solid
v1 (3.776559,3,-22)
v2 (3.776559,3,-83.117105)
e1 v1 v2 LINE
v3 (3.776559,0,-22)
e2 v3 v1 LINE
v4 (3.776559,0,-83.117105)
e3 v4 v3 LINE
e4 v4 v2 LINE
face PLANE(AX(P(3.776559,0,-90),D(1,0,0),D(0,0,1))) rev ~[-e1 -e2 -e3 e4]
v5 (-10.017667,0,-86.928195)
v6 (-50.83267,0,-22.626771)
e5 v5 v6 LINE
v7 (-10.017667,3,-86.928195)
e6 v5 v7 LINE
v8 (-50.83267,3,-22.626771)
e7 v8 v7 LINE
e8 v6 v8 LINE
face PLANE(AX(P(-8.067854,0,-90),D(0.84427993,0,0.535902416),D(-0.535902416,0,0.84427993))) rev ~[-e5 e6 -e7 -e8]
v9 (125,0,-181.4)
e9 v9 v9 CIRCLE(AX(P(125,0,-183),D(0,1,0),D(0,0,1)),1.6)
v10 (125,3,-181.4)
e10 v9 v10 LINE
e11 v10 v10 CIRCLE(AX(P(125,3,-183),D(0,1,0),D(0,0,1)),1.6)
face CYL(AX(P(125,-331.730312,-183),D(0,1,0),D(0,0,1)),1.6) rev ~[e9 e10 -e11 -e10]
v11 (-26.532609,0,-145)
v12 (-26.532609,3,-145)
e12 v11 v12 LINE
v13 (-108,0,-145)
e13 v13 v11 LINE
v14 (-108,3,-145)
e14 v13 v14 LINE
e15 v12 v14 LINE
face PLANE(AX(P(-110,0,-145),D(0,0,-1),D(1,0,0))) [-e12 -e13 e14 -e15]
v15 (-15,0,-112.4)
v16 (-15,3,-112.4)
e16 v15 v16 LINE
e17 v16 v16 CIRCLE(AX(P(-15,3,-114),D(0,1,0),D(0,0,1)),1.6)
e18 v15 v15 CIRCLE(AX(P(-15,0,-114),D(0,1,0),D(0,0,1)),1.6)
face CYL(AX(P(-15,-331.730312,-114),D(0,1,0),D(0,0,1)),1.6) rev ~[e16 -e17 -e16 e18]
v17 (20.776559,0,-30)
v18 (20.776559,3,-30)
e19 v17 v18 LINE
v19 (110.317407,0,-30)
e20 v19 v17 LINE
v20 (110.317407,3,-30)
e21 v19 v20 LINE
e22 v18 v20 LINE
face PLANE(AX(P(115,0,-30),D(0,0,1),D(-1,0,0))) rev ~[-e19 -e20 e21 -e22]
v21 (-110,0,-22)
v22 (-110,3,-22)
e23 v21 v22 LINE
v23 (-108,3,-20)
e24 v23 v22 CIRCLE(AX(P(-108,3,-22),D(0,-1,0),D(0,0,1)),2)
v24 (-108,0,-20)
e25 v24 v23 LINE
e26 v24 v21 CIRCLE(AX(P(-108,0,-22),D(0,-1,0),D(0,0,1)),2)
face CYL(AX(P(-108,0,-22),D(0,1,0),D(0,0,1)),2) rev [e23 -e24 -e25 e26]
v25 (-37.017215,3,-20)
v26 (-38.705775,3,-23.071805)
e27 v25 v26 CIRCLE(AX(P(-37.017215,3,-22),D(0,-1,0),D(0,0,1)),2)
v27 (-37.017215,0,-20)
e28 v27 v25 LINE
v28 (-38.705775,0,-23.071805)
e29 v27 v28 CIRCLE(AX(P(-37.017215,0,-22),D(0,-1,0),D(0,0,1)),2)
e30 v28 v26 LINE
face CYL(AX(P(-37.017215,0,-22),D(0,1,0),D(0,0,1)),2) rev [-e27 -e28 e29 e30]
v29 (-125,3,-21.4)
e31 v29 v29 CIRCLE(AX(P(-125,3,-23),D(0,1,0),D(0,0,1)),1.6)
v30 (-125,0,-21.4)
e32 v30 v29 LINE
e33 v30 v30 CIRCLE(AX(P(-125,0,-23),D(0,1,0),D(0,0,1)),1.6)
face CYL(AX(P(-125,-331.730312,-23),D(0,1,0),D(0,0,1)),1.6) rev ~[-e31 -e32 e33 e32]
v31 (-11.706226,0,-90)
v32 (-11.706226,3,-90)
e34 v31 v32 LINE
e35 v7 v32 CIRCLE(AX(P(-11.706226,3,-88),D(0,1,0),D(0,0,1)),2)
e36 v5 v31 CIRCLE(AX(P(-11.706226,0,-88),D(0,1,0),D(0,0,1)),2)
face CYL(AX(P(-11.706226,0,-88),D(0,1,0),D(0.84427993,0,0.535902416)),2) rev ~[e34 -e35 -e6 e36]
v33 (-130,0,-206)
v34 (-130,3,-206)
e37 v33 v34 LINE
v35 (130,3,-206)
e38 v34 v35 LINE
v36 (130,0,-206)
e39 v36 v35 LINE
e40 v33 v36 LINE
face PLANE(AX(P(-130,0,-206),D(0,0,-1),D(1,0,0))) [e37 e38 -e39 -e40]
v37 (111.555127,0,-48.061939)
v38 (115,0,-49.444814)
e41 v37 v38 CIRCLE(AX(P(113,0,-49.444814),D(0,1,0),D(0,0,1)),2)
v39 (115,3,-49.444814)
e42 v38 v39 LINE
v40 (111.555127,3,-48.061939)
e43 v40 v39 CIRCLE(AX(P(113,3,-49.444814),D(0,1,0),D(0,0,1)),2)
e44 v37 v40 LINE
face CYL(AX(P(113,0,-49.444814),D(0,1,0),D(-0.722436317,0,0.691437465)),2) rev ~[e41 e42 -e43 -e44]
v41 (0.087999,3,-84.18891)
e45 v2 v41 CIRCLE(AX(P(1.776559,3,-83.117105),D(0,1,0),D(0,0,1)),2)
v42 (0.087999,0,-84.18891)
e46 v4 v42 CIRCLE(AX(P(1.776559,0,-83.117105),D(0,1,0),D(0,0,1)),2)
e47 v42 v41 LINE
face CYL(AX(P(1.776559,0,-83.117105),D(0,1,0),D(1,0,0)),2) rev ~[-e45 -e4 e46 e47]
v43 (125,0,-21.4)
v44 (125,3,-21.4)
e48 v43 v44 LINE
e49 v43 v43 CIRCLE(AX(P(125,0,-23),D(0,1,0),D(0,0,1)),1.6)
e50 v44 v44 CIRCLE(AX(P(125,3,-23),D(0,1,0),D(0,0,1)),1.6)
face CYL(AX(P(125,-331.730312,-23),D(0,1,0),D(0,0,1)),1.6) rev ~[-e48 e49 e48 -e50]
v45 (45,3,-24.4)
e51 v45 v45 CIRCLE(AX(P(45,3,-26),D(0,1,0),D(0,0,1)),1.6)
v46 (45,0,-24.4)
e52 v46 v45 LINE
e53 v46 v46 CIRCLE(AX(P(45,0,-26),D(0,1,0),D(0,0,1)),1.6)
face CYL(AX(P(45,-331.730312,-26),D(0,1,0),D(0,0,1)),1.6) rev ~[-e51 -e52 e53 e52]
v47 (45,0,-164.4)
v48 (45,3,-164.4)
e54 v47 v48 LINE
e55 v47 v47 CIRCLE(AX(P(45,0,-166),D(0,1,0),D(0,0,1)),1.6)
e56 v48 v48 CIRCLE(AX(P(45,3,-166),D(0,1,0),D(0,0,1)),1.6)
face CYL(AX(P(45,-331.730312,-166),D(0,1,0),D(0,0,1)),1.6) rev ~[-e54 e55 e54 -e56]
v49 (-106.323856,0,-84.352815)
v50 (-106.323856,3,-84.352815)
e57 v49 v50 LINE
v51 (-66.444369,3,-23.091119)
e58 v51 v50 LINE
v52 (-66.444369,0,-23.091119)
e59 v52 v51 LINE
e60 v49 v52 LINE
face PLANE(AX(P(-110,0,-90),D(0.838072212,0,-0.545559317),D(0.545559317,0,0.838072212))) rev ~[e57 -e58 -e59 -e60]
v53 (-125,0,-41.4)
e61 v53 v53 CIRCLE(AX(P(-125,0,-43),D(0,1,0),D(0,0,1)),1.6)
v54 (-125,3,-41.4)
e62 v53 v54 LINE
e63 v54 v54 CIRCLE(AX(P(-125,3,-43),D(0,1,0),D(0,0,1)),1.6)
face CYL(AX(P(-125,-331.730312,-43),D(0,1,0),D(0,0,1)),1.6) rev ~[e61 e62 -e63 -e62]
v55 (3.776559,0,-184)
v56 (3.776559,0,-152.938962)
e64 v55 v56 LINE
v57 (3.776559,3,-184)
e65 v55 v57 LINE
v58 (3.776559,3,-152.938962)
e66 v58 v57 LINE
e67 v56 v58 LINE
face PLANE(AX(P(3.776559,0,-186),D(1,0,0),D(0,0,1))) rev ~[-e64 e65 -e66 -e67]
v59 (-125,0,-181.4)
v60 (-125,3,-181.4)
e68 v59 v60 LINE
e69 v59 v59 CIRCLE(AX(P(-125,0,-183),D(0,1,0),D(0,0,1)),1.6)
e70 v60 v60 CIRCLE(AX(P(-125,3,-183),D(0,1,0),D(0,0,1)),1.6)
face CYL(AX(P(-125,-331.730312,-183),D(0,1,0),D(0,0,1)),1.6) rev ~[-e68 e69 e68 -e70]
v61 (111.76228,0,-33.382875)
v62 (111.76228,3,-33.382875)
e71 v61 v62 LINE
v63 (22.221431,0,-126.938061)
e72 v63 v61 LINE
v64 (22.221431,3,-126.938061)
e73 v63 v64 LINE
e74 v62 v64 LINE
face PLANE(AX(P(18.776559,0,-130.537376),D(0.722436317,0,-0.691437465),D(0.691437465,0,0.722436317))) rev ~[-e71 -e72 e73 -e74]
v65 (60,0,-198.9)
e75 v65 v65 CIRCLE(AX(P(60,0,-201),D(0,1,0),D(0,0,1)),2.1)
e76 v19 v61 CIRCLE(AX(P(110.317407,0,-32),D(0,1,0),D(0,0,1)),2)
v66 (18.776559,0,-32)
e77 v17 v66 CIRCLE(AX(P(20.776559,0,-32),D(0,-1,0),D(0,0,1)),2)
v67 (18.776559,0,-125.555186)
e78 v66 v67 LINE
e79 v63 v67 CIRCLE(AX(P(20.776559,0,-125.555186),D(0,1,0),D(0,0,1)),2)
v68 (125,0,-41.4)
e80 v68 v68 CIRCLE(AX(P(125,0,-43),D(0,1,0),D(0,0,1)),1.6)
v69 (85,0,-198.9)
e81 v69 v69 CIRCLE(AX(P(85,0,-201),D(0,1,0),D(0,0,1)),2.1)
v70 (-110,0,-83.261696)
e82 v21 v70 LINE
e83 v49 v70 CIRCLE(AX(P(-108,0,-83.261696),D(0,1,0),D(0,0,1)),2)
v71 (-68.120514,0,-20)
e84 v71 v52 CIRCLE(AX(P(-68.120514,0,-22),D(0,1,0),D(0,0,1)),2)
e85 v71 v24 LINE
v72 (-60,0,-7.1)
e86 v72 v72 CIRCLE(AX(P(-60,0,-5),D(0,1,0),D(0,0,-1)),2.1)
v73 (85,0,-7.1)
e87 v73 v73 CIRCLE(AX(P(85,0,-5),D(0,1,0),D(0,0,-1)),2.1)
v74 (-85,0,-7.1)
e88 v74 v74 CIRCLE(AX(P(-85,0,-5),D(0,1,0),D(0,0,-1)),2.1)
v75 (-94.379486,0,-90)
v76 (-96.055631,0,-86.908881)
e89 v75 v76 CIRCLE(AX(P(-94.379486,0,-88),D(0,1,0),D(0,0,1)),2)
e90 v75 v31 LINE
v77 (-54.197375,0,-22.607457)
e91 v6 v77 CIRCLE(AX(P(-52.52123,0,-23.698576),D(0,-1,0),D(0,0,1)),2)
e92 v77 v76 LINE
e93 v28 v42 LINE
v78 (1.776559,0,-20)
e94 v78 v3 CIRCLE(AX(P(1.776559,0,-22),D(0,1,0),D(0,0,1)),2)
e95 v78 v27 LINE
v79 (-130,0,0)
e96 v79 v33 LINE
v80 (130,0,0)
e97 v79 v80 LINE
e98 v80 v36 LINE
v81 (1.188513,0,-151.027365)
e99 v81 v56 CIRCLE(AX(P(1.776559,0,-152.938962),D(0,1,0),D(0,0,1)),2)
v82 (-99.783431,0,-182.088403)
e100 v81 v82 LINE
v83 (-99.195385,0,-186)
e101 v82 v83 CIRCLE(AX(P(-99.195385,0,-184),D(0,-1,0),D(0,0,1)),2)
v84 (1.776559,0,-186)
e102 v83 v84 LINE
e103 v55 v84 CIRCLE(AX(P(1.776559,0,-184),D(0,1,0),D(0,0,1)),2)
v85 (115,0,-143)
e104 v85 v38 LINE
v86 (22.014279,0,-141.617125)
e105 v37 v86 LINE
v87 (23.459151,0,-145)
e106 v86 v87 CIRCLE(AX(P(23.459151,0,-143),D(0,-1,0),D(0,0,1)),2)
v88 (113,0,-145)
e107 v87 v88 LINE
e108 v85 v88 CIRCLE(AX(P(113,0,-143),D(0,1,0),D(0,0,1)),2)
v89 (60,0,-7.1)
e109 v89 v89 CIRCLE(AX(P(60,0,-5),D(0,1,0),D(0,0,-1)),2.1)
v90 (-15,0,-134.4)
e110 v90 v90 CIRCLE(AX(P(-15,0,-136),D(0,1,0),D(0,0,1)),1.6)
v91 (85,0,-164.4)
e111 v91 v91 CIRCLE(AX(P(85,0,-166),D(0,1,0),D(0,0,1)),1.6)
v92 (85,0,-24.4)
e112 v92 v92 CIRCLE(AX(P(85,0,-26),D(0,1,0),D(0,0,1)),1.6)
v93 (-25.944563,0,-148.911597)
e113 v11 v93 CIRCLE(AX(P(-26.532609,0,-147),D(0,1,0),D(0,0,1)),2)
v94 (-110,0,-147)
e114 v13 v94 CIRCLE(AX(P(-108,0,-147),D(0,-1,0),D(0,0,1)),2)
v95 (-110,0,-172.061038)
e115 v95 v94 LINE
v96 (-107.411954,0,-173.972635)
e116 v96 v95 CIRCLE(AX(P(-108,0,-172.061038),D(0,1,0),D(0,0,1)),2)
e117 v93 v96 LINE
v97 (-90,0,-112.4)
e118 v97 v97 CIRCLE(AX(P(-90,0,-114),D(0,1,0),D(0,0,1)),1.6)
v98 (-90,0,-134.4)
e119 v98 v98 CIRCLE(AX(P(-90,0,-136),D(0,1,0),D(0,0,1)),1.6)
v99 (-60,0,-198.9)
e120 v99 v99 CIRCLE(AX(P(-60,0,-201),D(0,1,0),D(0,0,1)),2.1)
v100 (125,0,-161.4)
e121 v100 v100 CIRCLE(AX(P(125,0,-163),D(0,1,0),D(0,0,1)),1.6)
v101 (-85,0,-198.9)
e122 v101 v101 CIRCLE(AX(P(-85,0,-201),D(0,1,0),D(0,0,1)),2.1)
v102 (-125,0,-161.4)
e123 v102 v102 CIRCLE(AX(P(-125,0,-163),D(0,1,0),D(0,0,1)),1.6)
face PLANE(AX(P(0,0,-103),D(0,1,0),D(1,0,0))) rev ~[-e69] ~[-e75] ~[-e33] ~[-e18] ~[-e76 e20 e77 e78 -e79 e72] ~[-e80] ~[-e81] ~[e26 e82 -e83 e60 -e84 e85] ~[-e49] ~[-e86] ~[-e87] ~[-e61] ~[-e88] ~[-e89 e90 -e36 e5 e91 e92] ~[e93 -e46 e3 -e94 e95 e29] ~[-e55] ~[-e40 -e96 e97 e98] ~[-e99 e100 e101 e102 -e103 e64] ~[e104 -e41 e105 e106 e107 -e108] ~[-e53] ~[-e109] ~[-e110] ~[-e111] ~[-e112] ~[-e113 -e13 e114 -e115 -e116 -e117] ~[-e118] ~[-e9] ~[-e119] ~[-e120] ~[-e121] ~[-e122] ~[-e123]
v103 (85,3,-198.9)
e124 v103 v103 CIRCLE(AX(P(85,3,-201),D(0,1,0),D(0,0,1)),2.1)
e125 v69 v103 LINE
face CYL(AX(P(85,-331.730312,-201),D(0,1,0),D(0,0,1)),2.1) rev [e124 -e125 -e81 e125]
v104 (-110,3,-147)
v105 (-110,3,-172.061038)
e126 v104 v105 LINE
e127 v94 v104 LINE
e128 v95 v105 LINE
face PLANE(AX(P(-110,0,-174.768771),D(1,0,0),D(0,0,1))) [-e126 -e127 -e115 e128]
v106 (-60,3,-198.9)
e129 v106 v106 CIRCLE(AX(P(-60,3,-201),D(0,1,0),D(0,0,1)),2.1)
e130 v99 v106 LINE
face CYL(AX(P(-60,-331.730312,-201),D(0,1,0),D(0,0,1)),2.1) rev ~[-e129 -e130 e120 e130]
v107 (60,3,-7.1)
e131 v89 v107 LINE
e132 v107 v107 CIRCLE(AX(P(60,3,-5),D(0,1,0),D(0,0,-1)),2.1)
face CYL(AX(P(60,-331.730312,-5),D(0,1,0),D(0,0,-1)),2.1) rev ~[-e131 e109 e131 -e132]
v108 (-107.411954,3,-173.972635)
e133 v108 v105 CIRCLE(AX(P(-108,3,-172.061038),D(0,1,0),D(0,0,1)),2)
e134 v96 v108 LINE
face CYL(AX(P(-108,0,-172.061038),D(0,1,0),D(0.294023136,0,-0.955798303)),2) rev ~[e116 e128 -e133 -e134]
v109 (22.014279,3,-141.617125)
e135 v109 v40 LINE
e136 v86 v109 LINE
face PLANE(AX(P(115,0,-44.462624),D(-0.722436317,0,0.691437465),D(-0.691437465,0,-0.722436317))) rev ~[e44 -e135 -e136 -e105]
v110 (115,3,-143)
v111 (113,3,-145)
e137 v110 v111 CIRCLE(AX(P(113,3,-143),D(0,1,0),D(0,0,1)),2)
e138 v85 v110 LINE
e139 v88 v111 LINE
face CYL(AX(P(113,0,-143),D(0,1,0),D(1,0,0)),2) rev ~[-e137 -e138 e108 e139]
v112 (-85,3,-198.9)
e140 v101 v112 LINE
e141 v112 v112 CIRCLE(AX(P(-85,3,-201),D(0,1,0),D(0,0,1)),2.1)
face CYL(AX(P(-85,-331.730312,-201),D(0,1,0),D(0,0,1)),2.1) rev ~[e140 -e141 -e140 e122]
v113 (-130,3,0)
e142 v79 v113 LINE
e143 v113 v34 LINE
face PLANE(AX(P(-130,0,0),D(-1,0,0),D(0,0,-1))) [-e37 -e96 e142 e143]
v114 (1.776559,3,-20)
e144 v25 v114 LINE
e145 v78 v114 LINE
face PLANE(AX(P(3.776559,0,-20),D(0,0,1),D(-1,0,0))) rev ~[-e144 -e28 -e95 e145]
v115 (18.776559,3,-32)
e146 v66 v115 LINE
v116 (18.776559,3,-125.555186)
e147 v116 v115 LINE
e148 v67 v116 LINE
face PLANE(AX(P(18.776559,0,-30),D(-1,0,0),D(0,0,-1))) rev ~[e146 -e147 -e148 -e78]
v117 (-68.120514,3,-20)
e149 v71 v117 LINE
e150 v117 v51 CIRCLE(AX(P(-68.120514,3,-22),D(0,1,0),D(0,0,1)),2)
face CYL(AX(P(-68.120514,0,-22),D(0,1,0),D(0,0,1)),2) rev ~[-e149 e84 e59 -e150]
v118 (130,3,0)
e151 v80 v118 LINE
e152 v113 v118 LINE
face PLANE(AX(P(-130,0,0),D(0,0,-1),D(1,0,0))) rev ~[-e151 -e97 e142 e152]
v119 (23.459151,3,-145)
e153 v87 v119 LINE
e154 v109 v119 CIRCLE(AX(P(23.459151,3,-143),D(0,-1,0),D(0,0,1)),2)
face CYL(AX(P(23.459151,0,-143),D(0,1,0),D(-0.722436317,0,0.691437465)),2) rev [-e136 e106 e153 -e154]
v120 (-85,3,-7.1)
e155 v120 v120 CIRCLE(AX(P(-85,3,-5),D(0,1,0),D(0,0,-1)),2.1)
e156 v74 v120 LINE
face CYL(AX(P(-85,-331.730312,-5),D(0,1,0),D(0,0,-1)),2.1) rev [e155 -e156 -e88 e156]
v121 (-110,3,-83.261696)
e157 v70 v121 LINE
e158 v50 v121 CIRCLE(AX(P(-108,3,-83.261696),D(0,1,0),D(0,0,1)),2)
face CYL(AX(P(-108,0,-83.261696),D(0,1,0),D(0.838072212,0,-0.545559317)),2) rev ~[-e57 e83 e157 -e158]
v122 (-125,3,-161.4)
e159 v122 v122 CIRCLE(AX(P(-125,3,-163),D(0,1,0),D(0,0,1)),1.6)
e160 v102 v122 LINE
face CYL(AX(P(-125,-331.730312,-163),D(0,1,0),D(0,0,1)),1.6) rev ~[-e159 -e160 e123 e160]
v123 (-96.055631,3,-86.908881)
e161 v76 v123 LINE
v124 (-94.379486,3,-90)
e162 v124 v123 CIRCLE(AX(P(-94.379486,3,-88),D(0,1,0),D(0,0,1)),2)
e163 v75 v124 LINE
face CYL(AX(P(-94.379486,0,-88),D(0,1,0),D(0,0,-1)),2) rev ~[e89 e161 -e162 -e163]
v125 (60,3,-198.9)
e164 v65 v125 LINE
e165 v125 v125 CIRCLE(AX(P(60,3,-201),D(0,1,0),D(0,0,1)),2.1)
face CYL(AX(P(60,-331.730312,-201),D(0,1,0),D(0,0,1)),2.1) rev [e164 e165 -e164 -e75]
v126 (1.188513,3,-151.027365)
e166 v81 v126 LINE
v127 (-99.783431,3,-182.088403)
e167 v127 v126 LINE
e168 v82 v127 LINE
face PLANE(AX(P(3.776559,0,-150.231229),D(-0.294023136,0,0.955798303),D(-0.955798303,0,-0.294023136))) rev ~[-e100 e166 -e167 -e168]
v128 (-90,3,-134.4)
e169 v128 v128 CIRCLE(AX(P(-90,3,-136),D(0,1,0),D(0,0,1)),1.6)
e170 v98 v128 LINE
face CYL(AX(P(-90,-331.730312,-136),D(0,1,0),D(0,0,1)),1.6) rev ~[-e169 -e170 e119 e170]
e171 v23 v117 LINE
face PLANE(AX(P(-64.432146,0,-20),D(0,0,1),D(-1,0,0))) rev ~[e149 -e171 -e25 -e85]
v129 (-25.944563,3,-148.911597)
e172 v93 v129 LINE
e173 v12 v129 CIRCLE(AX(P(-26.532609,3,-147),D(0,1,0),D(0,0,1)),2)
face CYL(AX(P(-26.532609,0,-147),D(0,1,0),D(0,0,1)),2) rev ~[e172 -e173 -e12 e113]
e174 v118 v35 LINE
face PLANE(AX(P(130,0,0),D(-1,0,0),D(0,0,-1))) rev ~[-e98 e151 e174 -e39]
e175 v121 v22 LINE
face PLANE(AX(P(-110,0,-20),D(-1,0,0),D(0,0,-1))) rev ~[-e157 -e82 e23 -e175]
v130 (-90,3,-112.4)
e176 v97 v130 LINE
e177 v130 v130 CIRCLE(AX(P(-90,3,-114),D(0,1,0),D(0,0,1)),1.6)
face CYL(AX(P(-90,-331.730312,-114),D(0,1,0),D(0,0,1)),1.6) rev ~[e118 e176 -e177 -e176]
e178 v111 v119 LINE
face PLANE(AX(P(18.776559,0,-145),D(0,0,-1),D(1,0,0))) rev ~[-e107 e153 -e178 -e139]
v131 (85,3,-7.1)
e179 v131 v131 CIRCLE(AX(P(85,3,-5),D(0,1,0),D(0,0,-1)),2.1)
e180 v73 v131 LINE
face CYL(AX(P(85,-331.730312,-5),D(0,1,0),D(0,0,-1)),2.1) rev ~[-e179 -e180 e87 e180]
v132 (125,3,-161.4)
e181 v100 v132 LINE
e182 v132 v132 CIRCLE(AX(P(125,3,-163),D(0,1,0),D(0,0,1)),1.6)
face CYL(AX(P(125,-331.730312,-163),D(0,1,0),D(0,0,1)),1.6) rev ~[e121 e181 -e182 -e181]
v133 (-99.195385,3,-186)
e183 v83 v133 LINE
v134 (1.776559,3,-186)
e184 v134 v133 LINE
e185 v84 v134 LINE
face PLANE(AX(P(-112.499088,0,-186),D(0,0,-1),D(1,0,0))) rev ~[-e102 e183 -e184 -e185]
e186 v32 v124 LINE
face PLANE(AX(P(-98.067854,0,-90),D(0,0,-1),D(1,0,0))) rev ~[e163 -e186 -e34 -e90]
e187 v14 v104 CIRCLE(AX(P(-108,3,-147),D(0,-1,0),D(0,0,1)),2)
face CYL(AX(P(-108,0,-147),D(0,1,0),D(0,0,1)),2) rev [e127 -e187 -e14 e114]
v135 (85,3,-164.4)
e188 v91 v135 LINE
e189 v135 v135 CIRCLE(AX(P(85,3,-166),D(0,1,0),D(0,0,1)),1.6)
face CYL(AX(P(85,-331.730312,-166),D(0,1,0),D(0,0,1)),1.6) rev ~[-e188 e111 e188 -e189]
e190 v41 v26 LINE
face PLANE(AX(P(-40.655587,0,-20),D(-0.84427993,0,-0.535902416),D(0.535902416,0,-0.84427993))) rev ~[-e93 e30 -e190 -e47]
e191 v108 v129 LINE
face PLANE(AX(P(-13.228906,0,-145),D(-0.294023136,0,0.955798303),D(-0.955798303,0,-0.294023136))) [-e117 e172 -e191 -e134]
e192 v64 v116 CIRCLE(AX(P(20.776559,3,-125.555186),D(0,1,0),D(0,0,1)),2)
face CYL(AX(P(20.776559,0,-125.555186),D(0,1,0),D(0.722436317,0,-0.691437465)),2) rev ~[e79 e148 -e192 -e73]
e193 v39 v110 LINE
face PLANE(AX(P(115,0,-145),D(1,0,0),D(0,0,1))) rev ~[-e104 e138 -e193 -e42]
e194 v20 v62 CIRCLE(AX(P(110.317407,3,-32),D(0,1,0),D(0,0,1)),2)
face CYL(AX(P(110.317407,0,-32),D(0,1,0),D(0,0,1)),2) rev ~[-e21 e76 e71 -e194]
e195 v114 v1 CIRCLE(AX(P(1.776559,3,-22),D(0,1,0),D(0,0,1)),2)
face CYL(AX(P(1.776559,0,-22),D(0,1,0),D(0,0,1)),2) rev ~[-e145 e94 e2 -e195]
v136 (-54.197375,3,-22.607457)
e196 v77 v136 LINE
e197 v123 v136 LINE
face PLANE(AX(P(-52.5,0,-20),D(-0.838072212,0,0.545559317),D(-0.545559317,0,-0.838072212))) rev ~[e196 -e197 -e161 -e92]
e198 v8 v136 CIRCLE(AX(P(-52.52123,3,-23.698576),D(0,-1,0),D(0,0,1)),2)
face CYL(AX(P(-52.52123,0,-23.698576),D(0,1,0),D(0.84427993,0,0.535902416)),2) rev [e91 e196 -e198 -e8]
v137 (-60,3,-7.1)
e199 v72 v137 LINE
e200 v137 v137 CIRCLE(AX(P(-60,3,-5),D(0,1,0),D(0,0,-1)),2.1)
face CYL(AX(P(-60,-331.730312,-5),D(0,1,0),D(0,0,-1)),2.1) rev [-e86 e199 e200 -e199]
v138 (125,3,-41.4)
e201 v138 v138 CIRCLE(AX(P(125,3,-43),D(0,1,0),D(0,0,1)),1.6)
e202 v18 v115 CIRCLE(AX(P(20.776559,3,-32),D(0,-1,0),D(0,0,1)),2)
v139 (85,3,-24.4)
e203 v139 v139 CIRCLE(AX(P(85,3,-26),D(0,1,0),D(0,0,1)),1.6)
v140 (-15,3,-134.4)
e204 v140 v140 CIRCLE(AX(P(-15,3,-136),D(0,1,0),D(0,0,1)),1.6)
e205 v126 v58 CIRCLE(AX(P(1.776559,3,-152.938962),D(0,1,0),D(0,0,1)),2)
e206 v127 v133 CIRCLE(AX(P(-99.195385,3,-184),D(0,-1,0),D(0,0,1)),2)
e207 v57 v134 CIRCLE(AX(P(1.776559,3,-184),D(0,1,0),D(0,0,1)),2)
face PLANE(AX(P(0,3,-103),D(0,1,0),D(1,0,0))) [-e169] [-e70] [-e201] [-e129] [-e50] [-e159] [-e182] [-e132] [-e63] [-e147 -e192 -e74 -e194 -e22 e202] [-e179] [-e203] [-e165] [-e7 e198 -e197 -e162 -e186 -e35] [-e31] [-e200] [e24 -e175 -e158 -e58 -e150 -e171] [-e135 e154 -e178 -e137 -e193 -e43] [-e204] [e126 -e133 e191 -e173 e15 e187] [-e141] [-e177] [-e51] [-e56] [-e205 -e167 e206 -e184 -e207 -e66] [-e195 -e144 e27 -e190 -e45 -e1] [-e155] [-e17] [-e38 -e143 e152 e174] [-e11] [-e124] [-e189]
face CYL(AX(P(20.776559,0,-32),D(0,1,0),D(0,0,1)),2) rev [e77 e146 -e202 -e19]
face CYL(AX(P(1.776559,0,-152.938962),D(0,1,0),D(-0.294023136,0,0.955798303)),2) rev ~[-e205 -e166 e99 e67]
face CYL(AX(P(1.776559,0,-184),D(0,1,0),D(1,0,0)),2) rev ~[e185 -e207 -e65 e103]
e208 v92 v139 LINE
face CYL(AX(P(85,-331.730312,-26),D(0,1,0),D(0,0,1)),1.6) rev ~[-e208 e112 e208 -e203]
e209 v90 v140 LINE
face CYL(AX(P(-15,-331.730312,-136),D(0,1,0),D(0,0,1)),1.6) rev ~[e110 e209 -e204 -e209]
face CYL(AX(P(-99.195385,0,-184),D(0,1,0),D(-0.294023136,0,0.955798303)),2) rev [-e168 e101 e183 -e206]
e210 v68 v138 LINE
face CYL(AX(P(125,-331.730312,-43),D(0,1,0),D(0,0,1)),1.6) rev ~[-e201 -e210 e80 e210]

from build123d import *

# Parameters (mm, degrees)
SKETCH_1_W              = 260
SKETCH_1_H              = 206
EXTRUDE_1_DEPTH         = 3
HOLE_WIZARD_3_2_3_2_1_D = 3.2
HOLE_WIZARD_3_2_3_2_2_D = 3.2
HOLE_WIZARD_3_2_3_2_4_D = 3.2
HOLE_WIZARD_4_2_4_2_1_D = 4.2
MIRROR_2_COPY_1_D       = 4.2
CUT_EXTRUDE_1_DEPTH     = 244.608292141
FILLET_1_R              = 2


with BuildPart() as part:
    # 草图1 → 凸台-拉伸1 (new body)
    with BuildSketch(Plane(origin=(0, 0, 0), x_dir=(1, 0, 0), z_dir=(0, 1, 0))):
        with Locations((0, 103)):
            Rectangle(SKETCH_1_W, SKETCH_1_H)
    extrude(amount=EXTRUDE_1_DEPTH)

    # Ø3.2 (3.2) 直径孔1 (through all)
    with Locations(Plane(origin=(-15, 0, -136), x_dir=(0, 0, -1), z_dir=(0, -1, 0))):
        with Locations((0, 0), (-22, 0), (0, -75), (-22, -75)):
            Hole(HOLE_WIZARD_3_2_3_2_1_D / 2)

    # Ø3.2 (3.2) 直径孔2 (through all)
    with Locations(Plane(origin=(45, 0, -26), x_dir=(0, 0, -1), z_dir=(0, -1, 0))):
        with Locations((0, 0), (0, 40), (140, 0), (140, 40)):
            Hole(HOLE_WIZARD_3_2_3_2_2_D / 2)

    # Ø3.2 (3.2) 直径孔4 (through all)
    with Locations(Plane(origin=(-125, 0, -23), x_dir=(0, 0, -1), z_dir=(0, -1, 0))):
        with Locations((0, 0), (20, 0), (140, 0), (160, 0), (140, 250), (160, 250), (20, 250), (0, 250)):
            Hole(HOLE_WIZARD_3_2_3_2_4_D / 2)

    # Ø4.2 (4.2) 直径孔1 (through all)
    with Locations(Plane(origin=(-60, 0, -201), x_dir=(0, 0, -1), z_dir=(0, -1, 0))):
        with Locations((0, 0), (0, -25)):
            hole_wizard_4_2_4_2_1 = Hole(HOLE_WIZARD_4_2_4_2_1_D / 2)

    # 镜向1: Ø4.2 (4.2) 直径孔1 across plane
    add(hole_wizard_4_2_4_2_1.mirror(Plane(origin=(0, 0, 0), x_dir=(0, 0, 1), z_dir=(1, 0, 0))), mode=Mode.SUBTRACT)

    # 镜向2: Ø4.2 (4.2) 直径孔1 across plane
    add(hole_wizard_4_2_4_2_1.mirror(Plane.XY.offset(-103)), mode=Mode.SUBTRACT)

    # 镜向2 copy 1 (through all)
    with Locations(Plane(origin=(60, 0, -5), x_dir=(0, 0, 1), z_dir=(0, -1, 0))):
        with Locations((0, 0), (0, -25)):
            Hole(MIRROR_2_COPY_1_D / 2)

    # 草图11 → 切除-拉伸1 (cut, through all)
    with BuildSketch(Plane.XZ):
        Polygon((-110, -20), (-110, -90), (-64.432146014, -20), align=None)
        Polygon((-52.5, -20), (-98.067853986, -90), (-8.067853986, -90), align=None)
        Polygon((-40.655587213, -20), (3.776558802, -90), (3.776558802, -20), align=None)
        Polygon((18.776558802, -145), (115, -145), (115, -44.462623892), align=None)
        Polygon((-110, -145), (-13.228905706, -145), (-110, -174.76877079), align=None)
        Polygon((-112.49908843, -186), (3.776558802, -186), (3.776558802, -150.23122921), align=None)
        Polygon((18.776558802, -30), (18.776558802, -130.537376108), (115, -30), align=None)
    extrude(amount=-CUT_EXTRUDE_1_DEPTH, mode=Mode.SUBTRACT)

    # 圆角1
    fillet_1_edges = [part.edges().sort_by_distance(p)[0] for p in [
        (115, 1.5, -30),
        (18.776558802, 1.5, -130.537376108),
        (18.776558802, 1.5, -30),
        (18.776558802, 1.5, -145),
        (115, 1.5, -44.462623892),
        (115, 1.5, -145),
        (-110, 1.5, -174.76877079),
        (-110, 1.5, -145),
        (-13.228905706, 1.5, -145),
        (3.776558802, 1.5, -150.23122921),
        (3.776558802, 1.5, -186),
        (-112.49908843, 1.5, -186),
        (-52.5, 1.5, -20),
        (-8.067853986, 1.5, -90),
        (-98.067853986, 1.5, -90),
        (-40.655587213, 1.5, -20),
        (3.776558802, 1.5, -20),
        (3.776558802, 1.5, -90),
        (-110, 1.5, -20),
        (-64.432146014, 1.5, -20),
        (-110, 1.5, -90),
    ]]
    fillet(fillet_1_edges, radius=FILLET_1_R)


solid = part.part
